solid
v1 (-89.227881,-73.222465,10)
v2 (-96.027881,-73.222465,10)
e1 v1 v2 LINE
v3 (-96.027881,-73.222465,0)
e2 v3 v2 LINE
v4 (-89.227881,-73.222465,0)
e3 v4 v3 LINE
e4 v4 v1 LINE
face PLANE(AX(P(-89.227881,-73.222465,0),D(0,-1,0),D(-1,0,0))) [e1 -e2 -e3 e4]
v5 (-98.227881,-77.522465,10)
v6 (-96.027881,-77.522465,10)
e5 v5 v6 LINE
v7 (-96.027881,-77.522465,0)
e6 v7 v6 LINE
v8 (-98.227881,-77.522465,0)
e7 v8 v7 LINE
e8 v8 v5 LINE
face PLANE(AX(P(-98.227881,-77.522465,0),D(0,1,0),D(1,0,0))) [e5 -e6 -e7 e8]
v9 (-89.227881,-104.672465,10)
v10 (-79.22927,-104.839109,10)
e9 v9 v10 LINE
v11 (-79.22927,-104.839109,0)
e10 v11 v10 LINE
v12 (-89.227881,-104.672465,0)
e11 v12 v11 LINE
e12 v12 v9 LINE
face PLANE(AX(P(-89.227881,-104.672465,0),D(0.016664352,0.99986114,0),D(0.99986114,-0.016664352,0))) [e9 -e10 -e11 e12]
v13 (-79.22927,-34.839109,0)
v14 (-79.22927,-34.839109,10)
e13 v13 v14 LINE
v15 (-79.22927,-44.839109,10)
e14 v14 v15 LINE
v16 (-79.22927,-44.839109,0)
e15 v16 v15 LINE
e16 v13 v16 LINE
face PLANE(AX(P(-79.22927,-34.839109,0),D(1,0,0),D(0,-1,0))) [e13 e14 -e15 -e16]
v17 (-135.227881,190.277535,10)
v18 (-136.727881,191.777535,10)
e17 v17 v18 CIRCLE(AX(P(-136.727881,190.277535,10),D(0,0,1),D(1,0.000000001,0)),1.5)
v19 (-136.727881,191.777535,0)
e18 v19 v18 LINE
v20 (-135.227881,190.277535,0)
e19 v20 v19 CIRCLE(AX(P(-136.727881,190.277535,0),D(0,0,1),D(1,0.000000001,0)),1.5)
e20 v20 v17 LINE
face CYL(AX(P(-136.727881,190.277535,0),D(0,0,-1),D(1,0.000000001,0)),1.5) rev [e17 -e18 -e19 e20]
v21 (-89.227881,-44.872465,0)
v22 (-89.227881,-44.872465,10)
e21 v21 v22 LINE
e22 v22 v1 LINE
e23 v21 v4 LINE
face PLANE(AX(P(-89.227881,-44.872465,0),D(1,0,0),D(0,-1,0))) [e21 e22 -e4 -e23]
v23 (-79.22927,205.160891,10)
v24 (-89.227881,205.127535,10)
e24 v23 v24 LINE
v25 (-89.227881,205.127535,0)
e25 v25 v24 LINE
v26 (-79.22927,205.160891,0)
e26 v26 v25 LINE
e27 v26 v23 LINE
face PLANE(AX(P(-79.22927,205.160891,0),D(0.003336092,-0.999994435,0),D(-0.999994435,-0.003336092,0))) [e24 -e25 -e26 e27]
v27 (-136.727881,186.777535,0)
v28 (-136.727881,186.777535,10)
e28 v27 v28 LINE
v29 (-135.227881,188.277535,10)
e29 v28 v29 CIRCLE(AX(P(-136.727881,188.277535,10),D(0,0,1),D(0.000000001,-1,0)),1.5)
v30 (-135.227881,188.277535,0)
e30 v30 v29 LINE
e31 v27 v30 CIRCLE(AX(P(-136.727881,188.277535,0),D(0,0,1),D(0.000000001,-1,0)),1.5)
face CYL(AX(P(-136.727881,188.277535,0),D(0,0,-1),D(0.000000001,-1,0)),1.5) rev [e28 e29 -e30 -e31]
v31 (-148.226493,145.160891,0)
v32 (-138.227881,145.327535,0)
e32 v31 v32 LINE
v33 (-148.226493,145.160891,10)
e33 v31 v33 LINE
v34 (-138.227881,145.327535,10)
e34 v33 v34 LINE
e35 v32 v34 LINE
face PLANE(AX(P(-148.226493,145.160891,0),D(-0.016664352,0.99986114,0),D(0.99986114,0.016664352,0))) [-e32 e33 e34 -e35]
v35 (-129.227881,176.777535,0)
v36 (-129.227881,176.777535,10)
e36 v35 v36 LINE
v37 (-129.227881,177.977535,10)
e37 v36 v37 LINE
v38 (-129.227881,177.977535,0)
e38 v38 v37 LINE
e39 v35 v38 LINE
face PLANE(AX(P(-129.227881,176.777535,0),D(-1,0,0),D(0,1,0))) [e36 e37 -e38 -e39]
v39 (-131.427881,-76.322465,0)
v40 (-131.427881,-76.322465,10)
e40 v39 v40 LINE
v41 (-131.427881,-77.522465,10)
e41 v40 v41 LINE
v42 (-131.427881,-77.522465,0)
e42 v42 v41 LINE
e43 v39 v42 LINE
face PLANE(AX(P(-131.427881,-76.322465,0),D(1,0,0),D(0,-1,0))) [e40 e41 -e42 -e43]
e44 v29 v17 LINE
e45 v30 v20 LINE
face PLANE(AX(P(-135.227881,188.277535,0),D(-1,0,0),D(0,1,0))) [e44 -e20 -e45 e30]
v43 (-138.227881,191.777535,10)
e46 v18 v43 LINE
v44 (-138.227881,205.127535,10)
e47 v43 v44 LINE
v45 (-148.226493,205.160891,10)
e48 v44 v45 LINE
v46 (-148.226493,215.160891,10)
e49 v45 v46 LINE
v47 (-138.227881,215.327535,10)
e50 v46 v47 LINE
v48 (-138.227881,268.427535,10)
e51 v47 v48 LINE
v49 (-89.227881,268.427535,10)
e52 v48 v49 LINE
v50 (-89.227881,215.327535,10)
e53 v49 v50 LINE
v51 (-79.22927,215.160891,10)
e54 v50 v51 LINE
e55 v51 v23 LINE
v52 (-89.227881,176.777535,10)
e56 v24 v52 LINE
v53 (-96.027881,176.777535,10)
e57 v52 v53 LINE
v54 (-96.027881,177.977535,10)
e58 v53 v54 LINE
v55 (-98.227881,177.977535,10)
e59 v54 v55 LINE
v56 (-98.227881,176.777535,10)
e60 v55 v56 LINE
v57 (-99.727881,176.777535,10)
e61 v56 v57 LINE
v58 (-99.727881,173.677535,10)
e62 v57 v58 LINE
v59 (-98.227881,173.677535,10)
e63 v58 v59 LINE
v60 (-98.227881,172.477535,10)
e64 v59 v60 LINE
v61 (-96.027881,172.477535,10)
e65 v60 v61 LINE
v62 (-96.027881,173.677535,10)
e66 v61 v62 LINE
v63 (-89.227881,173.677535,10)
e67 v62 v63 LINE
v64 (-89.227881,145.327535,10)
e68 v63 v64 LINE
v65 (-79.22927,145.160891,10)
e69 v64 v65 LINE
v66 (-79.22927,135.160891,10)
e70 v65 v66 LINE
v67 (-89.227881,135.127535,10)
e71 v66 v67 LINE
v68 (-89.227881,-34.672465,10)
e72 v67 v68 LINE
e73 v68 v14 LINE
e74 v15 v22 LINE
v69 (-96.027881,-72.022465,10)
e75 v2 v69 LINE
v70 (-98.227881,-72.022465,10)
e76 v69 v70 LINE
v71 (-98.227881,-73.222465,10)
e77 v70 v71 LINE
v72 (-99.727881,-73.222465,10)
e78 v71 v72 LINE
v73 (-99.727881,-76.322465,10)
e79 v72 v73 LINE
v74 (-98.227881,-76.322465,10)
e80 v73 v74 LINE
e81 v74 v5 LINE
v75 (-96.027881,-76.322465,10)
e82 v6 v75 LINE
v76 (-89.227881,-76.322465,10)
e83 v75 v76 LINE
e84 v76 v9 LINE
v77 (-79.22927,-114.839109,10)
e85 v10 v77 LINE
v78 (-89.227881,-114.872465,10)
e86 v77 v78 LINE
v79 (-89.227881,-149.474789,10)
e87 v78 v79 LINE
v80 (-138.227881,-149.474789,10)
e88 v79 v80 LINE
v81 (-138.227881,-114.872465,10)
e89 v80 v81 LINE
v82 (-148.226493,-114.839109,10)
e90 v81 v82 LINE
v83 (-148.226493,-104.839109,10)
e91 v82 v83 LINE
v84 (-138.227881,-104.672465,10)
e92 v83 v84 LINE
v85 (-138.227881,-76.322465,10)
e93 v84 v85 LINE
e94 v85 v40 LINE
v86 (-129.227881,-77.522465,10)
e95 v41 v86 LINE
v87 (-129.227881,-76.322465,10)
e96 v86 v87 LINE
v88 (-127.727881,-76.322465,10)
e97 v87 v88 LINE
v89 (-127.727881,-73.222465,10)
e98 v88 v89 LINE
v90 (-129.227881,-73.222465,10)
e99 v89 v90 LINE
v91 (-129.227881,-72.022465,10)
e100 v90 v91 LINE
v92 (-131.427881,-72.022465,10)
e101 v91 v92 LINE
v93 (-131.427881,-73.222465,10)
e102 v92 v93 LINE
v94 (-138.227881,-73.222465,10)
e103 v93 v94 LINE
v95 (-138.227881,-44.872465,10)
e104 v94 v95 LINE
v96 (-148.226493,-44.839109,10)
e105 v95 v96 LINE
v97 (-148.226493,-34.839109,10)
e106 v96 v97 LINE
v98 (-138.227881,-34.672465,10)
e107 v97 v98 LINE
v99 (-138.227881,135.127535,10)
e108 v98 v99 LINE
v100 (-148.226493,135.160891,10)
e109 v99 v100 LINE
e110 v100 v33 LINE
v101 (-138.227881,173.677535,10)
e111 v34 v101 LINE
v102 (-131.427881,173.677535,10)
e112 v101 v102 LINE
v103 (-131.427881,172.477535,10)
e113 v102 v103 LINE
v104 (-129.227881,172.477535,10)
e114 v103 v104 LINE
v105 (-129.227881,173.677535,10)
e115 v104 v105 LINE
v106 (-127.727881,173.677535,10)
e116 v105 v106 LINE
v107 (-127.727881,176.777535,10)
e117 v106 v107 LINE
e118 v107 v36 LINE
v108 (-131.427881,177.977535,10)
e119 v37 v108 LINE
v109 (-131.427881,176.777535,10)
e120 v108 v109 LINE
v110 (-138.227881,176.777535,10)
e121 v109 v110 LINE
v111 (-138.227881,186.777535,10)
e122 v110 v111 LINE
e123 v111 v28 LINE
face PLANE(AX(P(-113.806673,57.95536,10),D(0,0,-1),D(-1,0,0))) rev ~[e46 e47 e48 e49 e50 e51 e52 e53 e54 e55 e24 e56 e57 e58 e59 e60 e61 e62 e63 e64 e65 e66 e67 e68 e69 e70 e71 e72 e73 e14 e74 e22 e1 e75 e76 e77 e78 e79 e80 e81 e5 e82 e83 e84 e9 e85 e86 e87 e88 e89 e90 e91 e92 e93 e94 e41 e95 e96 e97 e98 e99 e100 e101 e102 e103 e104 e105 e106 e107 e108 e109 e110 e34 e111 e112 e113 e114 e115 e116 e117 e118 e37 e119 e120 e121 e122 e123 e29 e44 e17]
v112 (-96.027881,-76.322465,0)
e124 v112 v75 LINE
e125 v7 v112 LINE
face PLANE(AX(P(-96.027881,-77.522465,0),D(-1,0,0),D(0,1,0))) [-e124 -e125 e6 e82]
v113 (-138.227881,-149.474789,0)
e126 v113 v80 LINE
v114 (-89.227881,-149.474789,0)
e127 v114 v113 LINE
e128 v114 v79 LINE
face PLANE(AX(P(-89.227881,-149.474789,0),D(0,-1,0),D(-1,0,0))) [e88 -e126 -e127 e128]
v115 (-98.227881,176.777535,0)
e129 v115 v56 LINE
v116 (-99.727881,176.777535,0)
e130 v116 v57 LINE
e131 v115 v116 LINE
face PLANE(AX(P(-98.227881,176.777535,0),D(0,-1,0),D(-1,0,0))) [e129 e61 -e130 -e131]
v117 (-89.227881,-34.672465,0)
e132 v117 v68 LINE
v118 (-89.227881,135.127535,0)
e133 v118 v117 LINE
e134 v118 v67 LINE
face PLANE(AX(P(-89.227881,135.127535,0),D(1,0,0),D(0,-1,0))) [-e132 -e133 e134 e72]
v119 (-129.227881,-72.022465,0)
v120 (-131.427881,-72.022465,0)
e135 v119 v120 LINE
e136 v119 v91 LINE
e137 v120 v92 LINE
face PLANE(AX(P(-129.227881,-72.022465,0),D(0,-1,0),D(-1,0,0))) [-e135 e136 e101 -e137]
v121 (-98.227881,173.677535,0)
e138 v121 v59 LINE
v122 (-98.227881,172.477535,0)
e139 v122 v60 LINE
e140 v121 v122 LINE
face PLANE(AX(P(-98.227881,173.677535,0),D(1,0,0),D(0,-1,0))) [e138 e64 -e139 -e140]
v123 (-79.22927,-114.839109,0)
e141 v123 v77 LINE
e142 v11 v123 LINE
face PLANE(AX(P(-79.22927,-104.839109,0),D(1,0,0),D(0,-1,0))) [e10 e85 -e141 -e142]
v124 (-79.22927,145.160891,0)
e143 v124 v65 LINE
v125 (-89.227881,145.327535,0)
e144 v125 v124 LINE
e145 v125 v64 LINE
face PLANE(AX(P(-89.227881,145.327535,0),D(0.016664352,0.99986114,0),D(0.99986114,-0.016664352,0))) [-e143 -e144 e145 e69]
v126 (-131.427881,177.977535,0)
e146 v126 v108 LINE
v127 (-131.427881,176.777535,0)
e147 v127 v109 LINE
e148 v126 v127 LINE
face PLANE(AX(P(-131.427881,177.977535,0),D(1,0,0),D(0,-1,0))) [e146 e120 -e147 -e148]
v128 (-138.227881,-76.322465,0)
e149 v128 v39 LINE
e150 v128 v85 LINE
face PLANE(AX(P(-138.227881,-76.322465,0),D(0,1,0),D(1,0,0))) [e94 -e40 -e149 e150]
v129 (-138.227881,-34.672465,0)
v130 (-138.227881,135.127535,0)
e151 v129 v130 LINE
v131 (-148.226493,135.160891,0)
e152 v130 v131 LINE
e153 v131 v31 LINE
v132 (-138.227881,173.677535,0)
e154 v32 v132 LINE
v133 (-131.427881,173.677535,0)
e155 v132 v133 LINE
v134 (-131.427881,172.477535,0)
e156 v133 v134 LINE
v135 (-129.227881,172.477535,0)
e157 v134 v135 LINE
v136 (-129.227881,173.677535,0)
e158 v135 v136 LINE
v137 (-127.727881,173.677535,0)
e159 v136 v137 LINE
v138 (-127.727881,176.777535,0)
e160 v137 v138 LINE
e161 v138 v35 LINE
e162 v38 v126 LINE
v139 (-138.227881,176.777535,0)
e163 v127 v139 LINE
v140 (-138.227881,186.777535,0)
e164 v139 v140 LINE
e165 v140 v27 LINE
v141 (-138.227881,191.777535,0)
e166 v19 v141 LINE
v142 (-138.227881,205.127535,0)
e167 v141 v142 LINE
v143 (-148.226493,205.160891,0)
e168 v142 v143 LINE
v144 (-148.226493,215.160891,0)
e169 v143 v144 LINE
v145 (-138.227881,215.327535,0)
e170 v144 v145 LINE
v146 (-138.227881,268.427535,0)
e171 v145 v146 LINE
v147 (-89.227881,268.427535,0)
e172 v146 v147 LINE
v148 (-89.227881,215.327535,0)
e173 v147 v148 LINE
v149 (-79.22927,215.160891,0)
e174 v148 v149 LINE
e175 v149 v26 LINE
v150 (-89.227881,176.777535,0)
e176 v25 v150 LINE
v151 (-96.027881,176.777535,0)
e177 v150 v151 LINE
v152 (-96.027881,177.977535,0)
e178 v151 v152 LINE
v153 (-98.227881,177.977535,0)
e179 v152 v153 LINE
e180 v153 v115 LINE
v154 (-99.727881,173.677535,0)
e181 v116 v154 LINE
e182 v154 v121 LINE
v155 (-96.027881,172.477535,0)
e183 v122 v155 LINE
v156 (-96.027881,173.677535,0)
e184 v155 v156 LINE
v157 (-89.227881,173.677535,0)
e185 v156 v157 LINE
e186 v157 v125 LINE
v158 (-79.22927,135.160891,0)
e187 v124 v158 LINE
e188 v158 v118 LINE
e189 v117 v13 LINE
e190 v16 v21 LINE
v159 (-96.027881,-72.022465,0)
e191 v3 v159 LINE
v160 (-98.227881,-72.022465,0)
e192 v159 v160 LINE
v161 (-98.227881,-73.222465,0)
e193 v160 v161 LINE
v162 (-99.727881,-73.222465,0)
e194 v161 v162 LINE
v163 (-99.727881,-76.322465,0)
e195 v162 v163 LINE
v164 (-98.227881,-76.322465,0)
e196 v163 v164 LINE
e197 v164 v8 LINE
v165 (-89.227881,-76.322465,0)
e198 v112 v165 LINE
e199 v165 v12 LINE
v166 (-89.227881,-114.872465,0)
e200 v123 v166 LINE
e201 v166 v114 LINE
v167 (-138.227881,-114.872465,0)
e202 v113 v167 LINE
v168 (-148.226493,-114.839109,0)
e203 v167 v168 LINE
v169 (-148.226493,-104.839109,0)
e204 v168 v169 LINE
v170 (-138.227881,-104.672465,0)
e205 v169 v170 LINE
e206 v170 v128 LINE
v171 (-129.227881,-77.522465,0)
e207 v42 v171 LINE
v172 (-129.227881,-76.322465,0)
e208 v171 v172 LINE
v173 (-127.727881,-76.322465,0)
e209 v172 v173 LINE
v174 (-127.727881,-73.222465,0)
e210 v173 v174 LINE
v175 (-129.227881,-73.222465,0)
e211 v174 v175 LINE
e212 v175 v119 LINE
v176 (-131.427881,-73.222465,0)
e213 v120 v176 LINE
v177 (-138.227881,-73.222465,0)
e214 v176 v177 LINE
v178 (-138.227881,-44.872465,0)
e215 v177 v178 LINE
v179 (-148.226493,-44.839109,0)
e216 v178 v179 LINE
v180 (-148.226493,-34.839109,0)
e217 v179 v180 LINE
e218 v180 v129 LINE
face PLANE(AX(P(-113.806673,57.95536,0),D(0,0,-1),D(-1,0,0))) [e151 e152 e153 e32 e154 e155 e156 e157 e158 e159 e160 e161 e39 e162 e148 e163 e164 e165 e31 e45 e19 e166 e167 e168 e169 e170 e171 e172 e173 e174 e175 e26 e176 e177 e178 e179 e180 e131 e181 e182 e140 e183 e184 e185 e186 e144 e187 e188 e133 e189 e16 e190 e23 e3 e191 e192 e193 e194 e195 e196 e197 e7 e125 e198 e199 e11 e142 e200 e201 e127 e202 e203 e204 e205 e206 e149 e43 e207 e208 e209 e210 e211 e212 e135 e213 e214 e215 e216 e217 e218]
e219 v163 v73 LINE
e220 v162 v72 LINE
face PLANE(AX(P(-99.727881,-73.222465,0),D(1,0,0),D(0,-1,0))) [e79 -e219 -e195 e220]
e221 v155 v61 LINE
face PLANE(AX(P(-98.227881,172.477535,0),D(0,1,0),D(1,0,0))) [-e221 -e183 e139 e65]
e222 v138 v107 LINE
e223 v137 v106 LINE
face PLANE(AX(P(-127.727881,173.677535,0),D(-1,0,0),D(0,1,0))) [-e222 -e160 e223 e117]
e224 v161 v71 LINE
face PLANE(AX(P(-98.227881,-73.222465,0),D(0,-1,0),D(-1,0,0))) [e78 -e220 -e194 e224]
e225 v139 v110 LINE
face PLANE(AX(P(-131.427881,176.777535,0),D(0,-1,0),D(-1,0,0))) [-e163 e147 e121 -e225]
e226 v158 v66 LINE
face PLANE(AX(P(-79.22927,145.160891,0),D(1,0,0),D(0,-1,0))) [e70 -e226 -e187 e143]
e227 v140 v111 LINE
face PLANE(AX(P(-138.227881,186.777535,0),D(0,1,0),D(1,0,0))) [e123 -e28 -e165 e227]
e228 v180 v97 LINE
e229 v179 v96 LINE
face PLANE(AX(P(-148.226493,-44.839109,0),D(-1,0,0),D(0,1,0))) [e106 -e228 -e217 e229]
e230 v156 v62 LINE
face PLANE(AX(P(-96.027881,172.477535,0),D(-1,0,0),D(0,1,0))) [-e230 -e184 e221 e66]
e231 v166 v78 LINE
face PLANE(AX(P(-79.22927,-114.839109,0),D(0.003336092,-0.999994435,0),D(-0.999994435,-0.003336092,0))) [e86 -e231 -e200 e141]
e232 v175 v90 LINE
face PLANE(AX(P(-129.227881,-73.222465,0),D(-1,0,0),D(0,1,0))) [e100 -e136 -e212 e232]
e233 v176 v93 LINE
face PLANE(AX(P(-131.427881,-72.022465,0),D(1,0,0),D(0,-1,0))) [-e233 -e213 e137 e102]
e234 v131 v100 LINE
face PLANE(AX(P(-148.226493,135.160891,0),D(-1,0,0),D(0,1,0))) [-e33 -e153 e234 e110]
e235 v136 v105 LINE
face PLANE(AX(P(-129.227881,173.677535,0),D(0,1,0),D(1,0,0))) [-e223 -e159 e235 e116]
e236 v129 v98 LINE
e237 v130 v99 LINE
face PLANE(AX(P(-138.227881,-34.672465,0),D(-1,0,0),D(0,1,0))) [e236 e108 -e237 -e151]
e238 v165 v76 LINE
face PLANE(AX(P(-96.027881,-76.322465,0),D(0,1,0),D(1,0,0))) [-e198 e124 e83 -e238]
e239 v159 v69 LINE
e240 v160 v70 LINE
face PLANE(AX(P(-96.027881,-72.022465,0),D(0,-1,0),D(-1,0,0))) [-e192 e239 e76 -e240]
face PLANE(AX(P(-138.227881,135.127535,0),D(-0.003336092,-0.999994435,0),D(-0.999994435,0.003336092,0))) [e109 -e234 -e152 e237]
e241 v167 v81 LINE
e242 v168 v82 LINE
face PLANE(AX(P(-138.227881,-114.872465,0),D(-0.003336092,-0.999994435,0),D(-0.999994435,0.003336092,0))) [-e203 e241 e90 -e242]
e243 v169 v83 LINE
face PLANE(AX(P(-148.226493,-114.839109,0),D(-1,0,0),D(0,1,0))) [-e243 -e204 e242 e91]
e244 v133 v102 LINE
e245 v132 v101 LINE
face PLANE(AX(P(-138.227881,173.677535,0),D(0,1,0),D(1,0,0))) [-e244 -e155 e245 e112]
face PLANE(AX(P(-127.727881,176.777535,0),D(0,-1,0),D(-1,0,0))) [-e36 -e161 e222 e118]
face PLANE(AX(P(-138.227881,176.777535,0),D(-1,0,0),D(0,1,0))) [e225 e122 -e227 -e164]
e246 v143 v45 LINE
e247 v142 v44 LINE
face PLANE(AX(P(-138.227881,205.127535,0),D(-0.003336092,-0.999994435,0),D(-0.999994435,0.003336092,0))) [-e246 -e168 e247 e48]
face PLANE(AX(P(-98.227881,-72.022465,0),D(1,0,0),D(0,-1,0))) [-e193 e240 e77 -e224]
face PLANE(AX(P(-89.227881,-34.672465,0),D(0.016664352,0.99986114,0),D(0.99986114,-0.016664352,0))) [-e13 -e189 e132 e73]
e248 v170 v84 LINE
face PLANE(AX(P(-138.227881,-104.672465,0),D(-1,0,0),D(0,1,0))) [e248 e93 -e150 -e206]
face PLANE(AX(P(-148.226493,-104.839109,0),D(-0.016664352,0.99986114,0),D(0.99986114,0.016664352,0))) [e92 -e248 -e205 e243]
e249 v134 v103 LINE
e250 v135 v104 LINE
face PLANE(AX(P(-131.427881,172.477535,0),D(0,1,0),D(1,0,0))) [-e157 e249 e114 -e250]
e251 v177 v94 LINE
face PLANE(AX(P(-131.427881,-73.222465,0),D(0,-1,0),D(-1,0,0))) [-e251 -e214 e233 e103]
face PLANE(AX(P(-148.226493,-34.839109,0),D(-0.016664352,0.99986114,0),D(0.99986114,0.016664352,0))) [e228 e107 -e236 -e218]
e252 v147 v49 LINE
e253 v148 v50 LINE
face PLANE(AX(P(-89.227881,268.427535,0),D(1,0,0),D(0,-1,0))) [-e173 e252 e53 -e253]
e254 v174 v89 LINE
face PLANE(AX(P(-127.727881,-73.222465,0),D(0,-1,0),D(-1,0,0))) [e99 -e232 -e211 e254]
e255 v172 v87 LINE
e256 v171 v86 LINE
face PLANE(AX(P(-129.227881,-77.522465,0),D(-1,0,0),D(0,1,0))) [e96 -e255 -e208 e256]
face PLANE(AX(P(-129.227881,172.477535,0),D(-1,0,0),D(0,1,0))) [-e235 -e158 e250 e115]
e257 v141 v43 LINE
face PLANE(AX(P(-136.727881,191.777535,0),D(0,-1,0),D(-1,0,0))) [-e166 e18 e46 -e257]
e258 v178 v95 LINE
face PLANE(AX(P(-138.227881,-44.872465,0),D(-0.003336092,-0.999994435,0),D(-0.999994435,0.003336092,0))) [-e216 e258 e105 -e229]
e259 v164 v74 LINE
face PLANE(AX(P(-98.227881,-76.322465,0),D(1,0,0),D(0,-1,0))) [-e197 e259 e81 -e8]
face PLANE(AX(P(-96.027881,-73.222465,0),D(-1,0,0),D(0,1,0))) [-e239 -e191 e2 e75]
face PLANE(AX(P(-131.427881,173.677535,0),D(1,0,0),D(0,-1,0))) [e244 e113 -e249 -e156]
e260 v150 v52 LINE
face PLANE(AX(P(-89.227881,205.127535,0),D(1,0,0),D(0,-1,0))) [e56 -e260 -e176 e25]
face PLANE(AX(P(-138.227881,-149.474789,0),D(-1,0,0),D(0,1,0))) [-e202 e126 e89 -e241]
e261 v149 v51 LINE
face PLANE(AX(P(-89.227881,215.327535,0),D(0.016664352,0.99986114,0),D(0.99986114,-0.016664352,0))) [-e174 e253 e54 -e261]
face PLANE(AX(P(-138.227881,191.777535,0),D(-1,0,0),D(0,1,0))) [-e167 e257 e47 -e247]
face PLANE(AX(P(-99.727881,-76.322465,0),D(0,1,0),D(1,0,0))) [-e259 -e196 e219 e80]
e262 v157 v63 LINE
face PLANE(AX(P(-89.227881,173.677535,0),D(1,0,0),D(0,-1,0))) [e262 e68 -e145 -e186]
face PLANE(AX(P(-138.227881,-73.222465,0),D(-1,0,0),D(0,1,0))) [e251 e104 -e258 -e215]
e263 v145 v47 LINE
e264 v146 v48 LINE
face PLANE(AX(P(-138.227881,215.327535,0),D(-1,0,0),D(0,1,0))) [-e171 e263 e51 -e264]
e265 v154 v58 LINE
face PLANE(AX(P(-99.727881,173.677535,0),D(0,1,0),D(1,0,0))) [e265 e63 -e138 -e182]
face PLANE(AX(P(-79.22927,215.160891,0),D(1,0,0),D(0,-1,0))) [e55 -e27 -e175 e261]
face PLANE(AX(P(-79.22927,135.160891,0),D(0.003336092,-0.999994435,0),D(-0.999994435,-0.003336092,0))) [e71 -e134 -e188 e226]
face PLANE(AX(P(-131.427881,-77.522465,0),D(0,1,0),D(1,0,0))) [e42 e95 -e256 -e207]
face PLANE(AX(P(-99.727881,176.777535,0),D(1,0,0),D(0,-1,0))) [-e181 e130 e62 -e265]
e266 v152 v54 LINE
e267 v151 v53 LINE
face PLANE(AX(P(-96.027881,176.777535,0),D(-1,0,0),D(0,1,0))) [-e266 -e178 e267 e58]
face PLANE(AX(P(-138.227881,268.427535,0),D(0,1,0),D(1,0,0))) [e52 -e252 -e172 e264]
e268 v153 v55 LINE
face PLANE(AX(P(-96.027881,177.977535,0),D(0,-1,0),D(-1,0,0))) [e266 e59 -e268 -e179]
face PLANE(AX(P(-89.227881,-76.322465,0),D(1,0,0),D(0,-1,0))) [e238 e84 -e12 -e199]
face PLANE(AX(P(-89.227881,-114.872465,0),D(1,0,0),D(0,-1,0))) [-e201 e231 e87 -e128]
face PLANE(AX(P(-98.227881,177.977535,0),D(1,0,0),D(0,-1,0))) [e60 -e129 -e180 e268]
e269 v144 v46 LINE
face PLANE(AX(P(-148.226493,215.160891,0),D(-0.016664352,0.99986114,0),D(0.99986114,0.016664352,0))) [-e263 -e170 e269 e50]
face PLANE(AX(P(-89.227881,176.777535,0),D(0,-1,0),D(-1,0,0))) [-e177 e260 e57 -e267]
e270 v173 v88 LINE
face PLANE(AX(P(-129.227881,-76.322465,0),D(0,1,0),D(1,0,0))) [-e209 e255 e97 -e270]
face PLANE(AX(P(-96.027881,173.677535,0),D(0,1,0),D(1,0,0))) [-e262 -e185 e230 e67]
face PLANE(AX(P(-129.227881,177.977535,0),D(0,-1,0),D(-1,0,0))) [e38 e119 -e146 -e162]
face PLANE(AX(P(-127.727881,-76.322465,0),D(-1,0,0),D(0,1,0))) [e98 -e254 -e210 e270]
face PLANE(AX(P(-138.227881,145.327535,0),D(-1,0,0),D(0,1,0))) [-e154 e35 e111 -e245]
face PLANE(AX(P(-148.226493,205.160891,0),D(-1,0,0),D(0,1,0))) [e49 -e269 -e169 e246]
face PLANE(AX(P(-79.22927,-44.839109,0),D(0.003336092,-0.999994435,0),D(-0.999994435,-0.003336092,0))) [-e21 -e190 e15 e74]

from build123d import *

# Parameters (mm, degrees)
EXTRUDE_1_DEPTH = 10


with BuildPart() as part:
    # Эскиз2 → Бобышка-Вытянуть1 (new body)
    with BuildSketch(Plane.XY):
        with BuildLine():
            Line((-89.227881483, -149.474789065), (-138.227881483, -149.474789065))
            Line((-138.227881483, -149.474789065), (-138.227881483, -114.872465065))
            Line((-138.227881483, -114.872465065), (-148.226492884, -114.839108588))
            Line((-148.226492884, -114.839108588), (-148.226492884, -104.839108588))
            Line((-148.226492884, -104.839108588), (-138.227881483, -104.672465065))
            Line((-138.227881483, -104.672465065), (-138.227881483, -76.322465065))
            Line((-138.227881483, -76.322465065), (-131.427881483, -76.322465065))
            Line((-131.427881483, -76.322465065), (-131.427881483, -77.522465065))
            Line((-131.427881483, -77.522465065), (-129.227881483, -77.522465065))
            Line((-129.227881483, -77.522465065), (-129.227881483, -76.322465065))
            Line((-129.227881483, -76.322465065), (-127.727881483, -76.322465065))
            Line((-127.727881483, -76.322465065), (-127.727881483, -73.222465065))
            Line((-127.727881483, -73.222465065), (-129.227881483, -73.222465065))
            Line((-129.227881483, -73.222465065), (-129.227881483, -72.022465065))
            Line((-129.227881483, -72.022465065), (-131.427881483, -72.022465065))
            Line((-131.427881483, -72.022465065), (-131.427881483, -73.222465065))
            Line((-131.427881483, -73.222465065), (-138.227881483, -73.222465065))
            Line((-138.227881483, -73.222465065), (-138.227881483, -44.872465065))
            Line((-138.227881483, -44.872465065), (-148.226492884, -44.839108588))
            Line((-148.226492884, -44.839108588), (-148.226492884, -34.839108588))
            Line((-148.226492884, -34.839108588), (-138.227881483, -34.672465065))
            Line((-138.227881483, -34.672465065), (-138.227881483, 135.127534935))
            Line((-138.227881483, 135.127534935), (-148.226492884, 135.160891412))
            Line((-148.226492884, 135.160891412), (-148.226492884, 145.160891412))
            Line((-148.226492884, 145.160891412), (-138.227881483, 145.327534935))
            Line((-138.227881483, 145.327534935), (-138.227881483, 173.677534935))
            Line((-138.227881483, 173.677534935), (-131.427881483, 173.677534935))
            Line((-131.427881483, 173.677534935), (-131.427881483, 172.477534935))
            Line((-131.427881483, 172.477534935), (-129.227881483, 172.477534935))
            Line((-129.227881483, 172.477534935), (-129.227881483, 173.677534935))
            Line((-129.227881483, 173.677534935), (-127.727881483, 173.677534935))
            Line((-127.727881483, 173.677534935), (-127.727881483, 176.777534935))
            Line((-127.727881483, 176.777534935), (-129.227881483, 176.777534935))
            Line((-129.227881483, 176.777534935), (-129.227881483, 177.977534935))
            Line((-129.227881483, 177.977534935), (-131.427881483, 177.977534935))
            Line((-131.427881483, 177.977534935), (-131.427881483, 176.777534935))
            Line((-131.427881483, 176.777534935), (-138.227881483, 176.777534935))
            Line((-138.227881483, 176.777534935), (-138.227881483, 186.777534935))
            Line((-138.227881483, 186.777534935), (-136.727881483, 186.777534935))
            ThreePointArc((-136.727881483, 186.777534935), (-135.667221312, 187.216874763), (-135.227881483, 188.277534935))
            Line((-135.227881483, 188.277534935), (-135.227881483, 190.277534935))
            ThreePointArc((-135.227881483, 190.277534935), (-135.667221312, 191.338195107), (-136.727881483, 191.777534935))
            Line((-136.727881483, 191.777534935), (-138.227881483, 191.777534935))
            Line((-138.227881483, 191.777534935), (-138.227881483, 205.127534935))
            Line((-138.227881483, 205.127534935), (-148.226492884, 205.160891412))
            Line((-148.226492884, 205.160891412), (-148.226492884, 215.160891412))
            Line((-148.226492884, 215.160891412), (-138.227881483, 215.327534935))
            Line((-138.227881483, 215.327534935), (-138.227881483, 268.427534935))
            Line((-138.227881483, 268.427534935), (-89.227881483, 268.427534935))
            Line((-89.227881483, 268.427534935), (-89.227881483, 215.327534935))
            Line((-89.227881483, 215.327534935), (-79.229270083, 215.160891412))
            Line((-79.229270083, 215.160891412), (-79.229270083, 205.160891412))
            Line((-79.229270083, 205.160891412), (-89.227881483, 205.127534935))
            Line((-89.227881483, 205.127534935), (-89.227881483, 176.777534935))
            Line((-89.227881483, 176.777534935), (-96.027881483, 176.777534935))
            Line((-96.027881483, 176.777534935), (-96.027881483, 177.977534935))
            Line((-96.027881483, 177.977534935), (-98.227881483, 177.977534935))
            Line((-98.227881483, 177.977534935), (-98.227881483, 176.777534935))
            Line((-98.227881483, 176.777534935), (-99.727881483, 176.777534935))
            Line((-99.727881483, 176.777534935), (-99.727881483, 173.677534935))
            Line((-99.727881483, 173.677534935), (-98.227881483, 173.677534935))
            Line((-98.227881483, 173.677534935), (-98.227881483, 172.477534935))
            Line((-98.227881483, 172.477534935), (-96.027881483, 172.477534935))
            Line((-96.027881483, 172.477534935), (-96.027881483, 173.677534935))
            Line((-96.027881483, 173.677534935), (-89.227881483, 173.677534935))
            Line((-89.227881483, 173.677534935), (-89.227881483, 145.327534935))
            Line((-89.227881483, 145.327534935), (-79.229270083, 145.160891412))
            Line((-79.229270083, 145.160891412), (-79.229270083, 135.160891412))
            Line((-79.229270083, 135.160891412), (-89.227881483, 135.127534935))
            Line((-89.227881483, 135.127534935), (-89.227881483, -34.672465065))
            Line((-89.227881483, -34.672465065), (-79.229270083, -34.839108588))
            Line((-79.229270083, -34.839108588), (-79.229270083, -44.839108588))
            Line((-79.229270083, -44.839108588), (-89.227881483, -44.872465065))
            Line((-89.227881483, -44.872465065), (-89.227881483, -73.222465065))
            Line((-89.227881483, -73.222465065), (-96.027881483, -73.222465065))
            Line((-96.027881483, -73.222465065), (-96.027881483, -72.022465065))
            Line((-96.027881483, -72.022465065), (-98.227881483, -72.022465065))
            Line((-98.227881483, -72.022465065), (-98.227881483, -73.222465065))
            Line((-98.227881483, -73.222465065), (-99.727881483, -73.222465065))
            Line((-99.727881483, -73.222465065), (-99.727881483, -76.322465065))
            Line((-99.727881483, -76.322465065), (-98.227881483, -76.322465065))
            Line((-98.227881483, -76.322465065), (-98.227881483, -77.522465065))
            Line((-98.227881483, -77.522465065), (-96.027881483, -77.522465065))
            Line((-96.027881483, -77.522465065), (-96.027881483, -76.322465065))
            Line((-96.027881483, -76.322465065), (-89.227881483, -76.322465065))
            Line((-89.227881483, -76.322465065), (-89.227881483, -104.672465065))
            Line((-89.227881483, -104.672465065), (-79.229270083, -104.839108588))
            Line((-79.229270083, -104.839108588), (-79.229270083, -114.839108588))
            Line((-79.229270083, -114.839108588), (-89.227881483, -114.872465065))
            Line((-89.227881483, -114.872465065), (-89.227881483, -149.474789065))
        make_face()
    extrude(amount=EXTRUDE_1_DEPTH)


solid = part.part
